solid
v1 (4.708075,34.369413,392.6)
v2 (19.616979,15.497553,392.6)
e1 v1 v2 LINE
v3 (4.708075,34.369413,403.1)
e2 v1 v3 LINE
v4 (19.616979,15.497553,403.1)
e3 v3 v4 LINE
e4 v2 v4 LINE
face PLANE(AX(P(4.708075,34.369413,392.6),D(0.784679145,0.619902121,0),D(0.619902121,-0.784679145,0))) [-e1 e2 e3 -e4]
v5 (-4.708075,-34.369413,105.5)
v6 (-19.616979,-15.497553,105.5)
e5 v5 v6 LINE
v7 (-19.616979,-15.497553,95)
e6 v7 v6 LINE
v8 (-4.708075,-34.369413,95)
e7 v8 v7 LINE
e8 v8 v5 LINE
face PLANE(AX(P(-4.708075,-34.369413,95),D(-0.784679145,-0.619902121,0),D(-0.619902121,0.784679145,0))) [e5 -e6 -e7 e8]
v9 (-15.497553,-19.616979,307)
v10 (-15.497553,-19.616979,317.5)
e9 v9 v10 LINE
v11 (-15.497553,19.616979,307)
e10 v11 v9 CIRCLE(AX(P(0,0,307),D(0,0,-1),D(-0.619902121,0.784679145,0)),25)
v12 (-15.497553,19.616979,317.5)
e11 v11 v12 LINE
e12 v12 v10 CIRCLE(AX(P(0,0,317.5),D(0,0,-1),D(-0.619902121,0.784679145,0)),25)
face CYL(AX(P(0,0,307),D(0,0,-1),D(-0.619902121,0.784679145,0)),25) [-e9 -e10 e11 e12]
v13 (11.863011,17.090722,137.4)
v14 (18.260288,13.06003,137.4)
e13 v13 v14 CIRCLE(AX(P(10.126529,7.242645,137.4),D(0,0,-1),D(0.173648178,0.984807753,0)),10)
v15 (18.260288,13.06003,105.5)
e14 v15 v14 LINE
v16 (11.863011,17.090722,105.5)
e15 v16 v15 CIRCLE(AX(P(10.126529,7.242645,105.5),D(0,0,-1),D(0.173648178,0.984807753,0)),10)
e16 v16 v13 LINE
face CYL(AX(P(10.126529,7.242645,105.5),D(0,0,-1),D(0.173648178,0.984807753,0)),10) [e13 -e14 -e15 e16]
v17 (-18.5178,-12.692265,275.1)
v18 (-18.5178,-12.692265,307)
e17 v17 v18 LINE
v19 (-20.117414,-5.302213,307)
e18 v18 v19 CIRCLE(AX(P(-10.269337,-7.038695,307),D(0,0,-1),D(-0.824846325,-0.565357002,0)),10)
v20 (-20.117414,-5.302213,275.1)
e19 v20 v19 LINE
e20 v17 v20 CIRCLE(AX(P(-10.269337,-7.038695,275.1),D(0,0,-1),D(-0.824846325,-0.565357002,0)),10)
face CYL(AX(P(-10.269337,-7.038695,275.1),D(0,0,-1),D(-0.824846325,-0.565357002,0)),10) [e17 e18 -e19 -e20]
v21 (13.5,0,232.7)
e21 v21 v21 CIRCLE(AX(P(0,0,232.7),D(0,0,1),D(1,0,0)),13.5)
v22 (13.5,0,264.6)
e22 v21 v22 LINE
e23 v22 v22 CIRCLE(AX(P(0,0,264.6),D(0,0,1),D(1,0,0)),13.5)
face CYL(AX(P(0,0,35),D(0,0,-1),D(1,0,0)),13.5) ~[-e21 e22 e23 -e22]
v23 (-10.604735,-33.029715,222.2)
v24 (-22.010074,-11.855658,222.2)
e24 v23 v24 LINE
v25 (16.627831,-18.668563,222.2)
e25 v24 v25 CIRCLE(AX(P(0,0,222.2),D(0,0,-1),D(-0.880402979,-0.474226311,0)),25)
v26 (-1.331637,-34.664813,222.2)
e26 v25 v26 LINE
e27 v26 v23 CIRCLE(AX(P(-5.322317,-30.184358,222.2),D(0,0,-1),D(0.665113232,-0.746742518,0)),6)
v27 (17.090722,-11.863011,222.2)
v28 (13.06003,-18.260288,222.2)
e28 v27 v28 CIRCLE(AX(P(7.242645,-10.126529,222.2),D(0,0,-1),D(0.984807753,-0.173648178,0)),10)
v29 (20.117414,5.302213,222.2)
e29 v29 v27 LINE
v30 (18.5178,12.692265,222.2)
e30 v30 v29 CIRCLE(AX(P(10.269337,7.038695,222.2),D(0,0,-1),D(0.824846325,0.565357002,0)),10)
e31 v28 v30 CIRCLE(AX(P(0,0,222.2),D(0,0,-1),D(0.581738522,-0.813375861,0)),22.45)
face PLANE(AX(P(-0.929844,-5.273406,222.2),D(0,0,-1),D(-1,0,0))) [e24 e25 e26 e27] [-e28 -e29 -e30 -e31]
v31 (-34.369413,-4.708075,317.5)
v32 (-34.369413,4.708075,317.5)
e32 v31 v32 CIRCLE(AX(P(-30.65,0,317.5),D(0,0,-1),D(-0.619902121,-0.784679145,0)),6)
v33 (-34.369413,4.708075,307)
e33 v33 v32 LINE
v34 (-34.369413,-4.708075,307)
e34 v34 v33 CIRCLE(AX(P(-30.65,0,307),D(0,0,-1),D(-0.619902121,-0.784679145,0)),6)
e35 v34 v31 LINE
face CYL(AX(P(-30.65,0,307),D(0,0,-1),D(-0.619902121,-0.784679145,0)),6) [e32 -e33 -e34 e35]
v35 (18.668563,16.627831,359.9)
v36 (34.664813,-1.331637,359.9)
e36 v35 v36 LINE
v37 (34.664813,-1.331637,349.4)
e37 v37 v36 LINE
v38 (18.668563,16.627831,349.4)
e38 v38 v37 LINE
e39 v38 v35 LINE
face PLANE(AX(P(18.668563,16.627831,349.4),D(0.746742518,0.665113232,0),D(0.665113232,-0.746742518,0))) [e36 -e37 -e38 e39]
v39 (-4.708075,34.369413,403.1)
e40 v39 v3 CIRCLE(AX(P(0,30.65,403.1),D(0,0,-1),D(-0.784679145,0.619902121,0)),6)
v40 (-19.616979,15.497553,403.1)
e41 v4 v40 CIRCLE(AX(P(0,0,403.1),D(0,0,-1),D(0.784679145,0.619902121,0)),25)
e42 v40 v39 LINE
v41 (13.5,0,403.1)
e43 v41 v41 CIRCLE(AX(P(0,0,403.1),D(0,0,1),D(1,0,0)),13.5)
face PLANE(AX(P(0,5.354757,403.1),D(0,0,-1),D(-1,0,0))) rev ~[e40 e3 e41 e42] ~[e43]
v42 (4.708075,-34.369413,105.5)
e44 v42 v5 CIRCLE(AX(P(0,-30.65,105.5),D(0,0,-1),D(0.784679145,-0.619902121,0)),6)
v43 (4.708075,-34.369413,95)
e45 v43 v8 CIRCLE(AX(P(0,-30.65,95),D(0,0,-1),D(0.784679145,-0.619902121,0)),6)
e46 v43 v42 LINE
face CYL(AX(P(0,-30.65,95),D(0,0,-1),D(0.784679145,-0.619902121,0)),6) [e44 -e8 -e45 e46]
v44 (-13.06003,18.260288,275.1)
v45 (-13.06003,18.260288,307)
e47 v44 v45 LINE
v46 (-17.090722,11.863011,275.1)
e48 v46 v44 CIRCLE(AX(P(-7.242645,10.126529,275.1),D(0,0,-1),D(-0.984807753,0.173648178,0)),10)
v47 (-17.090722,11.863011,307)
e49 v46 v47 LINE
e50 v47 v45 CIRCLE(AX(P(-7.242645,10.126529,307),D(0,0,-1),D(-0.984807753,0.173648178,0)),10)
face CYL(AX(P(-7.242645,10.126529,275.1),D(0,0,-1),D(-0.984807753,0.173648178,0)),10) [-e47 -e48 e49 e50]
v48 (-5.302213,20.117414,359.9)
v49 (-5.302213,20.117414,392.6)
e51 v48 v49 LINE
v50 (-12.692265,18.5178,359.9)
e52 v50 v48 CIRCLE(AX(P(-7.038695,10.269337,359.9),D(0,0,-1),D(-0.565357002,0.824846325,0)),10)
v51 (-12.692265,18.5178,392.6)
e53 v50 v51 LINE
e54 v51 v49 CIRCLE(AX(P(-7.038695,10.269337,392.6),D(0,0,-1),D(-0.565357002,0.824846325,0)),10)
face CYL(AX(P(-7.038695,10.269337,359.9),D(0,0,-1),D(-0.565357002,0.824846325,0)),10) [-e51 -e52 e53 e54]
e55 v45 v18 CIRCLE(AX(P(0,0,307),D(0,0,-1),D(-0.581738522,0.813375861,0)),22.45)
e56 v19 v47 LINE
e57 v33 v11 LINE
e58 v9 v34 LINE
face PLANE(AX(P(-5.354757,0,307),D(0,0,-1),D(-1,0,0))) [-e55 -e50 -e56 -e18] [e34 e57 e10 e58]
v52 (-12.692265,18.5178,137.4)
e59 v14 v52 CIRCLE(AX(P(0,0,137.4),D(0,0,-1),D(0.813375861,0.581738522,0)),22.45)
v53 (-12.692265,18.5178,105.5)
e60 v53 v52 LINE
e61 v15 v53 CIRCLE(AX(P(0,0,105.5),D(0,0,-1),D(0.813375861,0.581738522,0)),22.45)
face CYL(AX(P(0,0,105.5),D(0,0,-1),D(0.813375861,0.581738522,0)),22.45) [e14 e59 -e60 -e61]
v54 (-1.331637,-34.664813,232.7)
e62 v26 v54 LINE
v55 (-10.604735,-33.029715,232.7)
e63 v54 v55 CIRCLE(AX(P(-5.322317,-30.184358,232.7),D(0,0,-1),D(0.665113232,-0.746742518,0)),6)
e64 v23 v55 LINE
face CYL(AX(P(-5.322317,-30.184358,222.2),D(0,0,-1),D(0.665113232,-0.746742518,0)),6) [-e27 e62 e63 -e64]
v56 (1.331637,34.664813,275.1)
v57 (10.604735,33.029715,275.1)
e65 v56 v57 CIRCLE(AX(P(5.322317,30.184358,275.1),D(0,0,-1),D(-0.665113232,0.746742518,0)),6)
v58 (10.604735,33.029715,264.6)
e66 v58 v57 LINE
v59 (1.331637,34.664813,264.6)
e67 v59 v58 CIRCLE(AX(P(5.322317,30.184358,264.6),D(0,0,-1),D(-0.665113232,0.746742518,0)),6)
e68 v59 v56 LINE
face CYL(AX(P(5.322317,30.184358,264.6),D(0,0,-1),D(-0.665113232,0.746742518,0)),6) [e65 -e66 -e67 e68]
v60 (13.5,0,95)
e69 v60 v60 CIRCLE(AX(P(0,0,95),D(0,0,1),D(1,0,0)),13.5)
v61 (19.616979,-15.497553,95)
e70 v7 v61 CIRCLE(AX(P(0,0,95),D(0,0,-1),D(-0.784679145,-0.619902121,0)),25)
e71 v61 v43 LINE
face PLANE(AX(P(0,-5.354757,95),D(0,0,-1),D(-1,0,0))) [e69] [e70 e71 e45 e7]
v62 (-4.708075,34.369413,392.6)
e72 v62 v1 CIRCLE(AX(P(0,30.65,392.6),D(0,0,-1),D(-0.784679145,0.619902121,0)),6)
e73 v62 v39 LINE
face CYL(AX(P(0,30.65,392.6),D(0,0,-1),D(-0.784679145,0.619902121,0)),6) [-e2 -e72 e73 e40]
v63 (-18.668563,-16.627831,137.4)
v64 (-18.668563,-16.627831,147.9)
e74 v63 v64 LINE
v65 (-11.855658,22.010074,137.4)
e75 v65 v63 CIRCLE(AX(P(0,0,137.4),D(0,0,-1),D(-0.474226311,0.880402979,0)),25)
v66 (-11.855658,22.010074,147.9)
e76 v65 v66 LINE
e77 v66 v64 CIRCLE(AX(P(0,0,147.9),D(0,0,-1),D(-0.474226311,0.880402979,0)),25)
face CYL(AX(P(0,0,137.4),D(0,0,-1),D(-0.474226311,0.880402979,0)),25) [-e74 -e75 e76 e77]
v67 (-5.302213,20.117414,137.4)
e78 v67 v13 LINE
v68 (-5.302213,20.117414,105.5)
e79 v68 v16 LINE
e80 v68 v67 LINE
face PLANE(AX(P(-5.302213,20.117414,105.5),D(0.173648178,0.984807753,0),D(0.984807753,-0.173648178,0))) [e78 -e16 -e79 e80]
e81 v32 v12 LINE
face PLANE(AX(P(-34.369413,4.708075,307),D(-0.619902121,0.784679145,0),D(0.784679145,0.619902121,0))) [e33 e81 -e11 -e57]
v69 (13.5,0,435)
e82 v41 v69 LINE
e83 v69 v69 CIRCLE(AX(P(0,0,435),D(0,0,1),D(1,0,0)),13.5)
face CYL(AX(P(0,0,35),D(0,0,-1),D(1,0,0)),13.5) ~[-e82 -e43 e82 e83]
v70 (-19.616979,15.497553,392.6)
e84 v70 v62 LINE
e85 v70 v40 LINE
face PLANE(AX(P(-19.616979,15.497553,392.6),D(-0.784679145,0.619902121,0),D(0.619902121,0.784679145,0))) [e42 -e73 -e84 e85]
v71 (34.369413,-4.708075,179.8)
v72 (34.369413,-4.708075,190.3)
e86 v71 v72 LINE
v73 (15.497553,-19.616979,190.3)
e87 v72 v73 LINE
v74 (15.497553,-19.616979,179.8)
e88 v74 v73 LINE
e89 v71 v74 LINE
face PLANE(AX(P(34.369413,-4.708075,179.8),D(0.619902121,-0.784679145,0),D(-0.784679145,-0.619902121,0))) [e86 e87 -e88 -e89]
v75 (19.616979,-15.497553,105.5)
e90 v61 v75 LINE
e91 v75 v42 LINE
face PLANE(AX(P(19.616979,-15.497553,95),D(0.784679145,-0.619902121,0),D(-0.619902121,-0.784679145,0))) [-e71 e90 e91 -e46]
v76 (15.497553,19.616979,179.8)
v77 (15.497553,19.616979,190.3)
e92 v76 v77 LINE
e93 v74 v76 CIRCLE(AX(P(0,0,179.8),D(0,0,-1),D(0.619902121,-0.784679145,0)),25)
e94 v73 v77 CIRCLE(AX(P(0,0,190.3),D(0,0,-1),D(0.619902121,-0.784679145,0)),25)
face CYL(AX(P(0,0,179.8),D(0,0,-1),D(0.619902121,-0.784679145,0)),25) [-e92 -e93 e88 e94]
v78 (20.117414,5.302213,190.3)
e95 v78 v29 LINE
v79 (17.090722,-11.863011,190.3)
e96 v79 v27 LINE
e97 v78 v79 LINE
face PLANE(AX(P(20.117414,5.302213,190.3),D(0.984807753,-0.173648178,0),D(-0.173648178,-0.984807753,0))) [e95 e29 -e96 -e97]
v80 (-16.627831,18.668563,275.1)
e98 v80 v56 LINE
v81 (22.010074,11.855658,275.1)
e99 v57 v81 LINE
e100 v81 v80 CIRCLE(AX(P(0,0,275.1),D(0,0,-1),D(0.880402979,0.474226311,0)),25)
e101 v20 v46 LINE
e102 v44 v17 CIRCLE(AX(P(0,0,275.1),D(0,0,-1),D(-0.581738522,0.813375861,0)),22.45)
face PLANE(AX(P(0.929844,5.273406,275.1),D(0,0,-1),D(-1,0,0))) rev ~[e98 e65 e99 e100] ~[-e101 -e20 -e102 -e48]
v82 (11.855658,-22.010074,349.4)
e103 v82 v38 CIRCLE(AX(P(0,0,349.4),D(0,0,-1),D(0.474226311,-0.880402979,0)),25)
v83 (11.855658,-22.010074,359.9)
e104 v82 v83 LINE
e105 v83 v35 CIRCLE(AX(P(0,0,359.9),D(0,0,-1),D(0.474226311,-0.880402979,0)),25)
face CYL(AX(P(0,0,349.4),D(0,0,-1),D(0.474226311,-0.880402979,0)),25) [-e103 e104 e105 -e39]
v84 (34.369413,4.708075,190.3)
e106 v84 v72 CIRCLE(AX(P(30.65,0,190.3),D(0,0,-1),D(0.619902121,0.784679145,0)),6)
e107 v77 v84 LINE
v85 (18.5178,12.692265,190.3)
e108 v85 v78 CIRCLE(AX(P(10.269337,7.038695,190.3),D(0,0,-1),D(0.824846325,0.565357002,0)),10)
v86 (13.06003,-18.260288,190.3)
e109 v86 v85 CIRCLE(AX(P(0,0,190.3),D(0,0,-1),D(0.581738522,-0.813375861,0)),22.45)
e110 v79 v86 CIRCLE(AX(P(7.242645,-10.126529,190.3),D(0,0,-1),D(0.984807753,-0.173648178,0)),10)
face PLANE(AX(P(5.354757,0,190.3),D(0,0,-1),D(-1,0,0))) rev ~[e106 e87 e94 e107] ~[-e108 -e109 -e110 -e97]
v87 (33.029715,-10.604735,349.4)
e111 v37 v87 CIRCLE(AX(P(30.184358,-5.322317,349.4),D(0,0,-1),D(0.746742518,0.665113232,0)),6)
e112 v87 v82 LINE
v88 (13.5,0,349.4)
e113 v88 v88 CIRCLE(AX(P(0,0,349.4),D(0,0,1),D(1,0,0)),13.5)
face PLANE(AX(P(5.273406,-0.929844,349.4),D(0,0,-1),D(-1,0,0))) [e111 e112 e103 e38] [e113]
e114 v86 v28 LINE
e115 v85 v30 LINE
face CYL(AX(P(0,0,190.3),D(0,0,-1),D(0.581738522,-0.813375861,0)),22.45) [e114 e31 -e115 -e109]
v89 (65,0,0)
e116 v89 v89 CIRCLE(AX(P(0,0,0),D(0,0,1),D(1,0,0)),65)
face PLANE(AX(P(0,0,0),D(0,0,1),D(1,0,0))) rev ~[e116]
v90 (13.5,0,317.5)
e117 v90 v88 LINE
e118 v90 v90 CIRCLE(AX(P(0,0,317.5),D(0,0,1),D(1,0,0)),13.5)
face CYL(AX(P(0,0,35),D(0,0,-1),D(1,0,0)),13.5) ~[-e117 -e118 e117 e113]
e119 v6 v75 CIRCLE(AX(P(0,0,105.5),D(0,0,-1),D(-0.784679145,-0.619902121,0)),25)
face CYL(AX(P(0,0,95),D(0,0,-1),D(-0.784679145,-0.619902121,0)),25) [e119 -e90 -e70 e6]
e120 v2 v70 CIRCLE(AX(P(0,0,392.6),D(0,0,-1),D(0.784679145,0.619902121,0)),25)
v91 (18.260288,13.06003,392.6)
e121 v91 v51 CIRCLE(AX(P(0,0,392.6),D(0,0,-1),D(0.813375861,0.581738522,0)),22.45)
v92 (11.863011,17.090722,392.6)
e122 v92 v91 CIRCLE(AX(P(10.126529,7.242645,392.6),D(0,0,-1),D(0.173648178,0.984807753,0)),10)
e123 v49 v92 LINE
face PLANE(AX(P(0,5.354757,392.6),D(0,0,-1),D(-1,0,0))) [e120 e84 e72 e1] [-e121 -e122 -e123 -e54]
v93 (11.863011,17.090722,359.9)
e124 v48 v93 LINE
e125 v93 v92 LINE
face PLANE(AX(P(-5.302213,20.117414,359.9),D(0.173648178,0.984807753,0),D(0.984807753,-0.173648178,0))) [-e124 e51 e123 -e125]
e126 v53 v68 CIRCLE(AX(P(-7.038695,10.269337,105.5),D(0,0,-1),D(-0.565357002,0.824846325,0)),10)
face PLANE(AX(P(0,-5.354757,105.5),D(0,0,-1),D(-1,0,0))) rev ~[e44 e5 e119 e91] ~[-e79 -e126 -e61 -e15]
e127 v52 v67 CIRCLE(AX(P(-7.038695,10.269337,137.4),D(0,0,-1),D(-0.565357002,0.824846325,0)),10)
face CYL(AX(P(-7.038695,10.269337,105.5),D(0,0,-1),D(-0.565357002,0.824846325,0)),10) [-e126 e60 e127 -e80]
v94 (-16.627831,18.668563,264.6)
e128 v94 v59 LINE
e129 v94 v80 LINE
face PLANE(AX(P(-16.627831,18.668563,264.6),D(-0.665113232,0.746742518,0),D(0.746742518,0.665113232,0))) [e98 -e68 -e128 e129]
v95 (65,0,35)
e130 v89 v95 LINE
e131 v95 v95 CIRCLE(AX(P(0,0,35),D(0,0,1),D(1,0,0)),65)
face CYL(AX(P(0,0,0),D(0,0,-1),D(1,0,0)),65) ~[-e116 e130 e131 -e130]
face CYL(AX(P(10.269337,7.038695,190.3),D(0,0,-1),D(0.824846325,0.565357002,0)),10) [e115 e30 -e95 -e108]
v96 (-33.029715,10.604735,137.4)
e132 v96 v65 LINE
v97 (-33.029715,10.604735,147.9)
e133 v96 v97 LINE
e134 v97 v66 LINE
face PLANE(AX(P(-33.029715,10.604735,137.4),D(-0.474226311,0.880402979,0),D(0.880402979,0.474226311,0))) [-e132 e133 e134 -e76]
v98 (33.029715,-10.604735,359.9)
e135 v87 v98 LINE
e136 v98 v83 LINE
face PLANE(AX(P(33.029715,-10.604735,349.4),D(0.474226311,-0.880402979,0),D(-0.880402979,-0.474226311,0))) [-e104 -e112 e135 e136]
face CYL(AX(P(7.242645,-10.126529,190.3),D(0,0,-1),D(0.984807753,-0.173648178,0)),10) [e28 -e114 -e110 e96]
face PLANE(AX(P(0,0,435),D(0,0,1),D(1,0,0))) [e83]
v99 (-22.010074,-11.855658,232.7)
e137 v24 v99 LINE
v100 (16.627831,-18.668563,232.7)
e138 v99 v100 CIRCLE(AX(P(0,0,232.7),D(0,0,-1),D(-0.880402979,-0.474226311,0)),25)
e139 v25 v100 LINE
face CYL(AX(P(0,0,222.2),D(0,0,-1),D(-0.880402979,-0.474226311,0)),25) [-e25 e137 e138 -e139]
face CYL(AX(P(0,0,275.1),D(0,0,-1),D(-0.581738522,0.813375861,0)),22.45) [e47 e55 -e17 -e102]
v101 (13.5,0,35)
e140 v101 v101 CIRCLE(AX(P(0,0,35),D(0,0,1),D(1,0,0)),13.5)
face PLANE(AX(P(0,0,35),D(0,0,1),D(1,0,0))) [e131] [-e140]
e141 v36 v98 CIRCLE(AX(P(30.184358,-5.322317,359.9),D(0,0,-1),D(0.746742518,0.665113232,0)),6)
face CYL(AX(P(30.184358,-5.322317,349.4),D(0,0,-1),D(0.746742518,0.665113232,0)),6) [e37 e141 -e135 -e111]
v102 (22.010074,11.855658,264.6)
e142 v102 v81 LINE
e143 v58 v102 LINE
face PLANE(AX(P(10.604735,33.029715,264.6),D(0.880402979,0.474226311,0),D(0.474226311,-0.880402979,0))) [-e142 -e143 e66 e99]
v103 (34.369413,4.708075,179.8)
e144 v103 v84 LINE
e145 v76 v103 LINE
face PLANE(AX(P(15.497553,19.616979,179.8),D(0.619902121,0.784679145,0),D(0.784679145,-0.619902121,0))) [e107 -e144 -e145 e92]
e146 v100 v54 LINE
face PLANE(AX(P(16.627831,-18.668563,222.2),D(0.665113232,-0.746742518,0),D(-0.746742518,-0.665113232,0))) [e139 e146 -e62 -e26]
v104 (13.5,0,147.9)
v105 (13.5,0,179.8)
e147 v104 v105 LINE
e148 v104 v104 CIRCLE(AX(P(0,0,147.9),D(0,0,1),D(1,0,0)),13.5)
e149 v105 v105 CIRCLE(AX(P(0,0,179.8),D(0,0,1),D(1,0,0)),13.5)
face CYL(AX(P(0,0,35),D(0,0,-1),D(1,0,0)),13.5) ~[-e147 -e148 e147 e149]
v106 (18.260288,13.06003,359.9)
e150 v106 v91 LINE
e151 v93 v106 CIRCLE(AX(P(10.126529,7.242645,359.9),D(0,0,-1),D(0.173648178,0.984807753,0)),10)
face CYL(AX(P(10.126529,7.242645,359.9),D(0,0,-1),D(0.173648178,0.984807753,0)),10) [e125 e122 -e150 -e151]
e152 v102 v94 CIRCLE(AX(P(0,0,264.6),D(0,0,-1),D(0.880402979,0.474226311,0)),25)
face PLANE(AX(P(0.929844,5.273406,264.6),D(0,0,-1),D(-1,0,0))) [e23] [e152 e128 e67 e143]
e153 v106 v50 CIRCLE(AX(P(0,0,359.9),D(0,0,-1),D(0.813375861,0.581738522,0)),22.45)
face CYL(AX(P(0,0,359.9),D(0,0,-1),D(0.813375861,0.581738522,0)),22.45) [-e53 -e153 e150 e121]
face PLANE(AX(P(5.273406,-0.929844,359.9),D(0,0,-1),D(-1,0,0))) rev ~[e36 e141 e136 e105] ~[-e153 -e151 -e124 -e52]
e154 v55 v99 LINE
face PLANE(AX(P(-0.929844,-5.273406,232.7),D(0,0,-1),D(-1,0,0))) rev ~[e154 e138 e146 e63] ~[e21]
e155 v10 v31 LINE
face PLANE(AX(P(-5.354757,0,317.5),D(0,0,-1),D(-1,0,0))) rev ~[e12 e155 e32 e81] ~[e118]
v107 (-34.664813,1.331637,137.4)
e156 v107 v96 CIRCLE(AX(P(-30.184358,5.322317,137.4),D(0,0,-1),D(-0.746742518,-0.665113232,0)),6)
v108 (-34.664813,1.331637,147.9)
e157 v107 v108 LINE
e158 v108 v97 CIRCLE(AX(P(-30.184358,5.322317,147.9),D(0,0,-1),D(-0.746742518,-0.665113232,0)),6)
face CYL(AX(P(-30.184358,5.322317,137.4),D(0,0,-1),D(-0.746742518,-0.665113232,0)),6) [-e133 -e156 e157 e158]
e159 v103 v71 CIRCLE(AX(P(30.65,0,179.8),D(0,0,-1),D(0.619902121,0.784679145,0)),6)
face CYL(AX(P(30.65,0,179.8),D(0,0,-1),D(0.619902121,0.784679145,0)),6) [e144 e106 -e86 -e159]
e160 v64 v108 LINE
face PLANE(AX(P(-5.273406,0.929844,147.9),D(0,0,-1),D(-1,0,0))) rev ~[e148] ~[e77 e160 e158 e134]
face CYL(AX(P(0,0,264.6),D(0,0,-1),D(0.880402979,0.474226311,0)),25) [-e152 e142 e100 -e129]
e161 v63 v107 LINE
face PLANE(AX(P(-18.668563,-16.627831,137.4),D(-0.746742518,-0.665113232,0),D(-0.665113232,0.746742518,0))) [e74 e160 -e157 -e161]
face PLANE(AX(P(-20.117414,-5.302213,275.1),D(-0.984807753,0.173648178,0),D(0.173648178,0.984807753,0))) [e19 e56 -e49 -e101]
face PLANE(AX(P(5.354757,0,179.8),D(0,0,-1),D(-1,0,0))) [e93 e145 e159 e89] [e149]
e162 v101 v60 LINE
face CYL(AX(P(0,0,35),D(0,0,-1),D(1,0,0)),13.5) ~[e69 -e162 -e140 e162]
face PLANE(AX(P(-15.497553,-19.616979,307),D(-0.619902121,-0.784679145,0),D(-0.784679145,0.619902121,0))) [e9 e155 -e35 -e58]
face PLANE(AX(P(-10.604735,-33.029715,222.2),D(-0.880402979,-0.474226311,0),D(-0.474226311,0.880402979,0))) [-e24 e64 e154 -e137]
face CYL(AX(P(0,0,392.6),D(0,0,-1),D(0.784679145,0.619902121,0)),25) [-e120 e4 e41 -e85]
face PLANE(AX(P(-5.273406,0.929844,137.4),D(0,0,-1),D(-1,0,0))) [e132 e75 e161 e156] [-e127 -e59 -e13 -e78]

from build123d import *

# Parameters (mm, degrees)
CROQUIS1_R               = 65
SALIENTE_EXTRUIR2_DEPTH  = 35
CROQUIS2_R               = 13.5
SALIENTE_EXTRUIR3_DEPTH  = 400
CROQUIS3_R               = 13.5
SALIENTE_EXTRUIR4_DEPTH  = 10.5
CROQUIS4_R               = 13.5
SALIENTE_EXTRUIR6_DEPTH  = 10.5
CROQUIS5_R               = 13.5
SALIENTE_EXTRUIR7_DEPTH  = 10.5
CROQUIS6_R               = 13.5
SALIENTE_EXTRUIR8_DEPTH  = 10.5
CROQUIS7_R               = 13.5
SALIENTE_EXTRUIR9_DEPTH  = 10.5
CROQUIS8_R               = 13.5
SALIENTE_EXTRUIR10_DEPTH = 10.5
CROQUIS9_R               = 13.5
SALIENTE_EXTRUIR11_DEPTH = 10.5
CROQUIS10_R              = 13.5
SALIENTE_EXTRUIR12_DEPTH = 10.5
SALIENTE_EXTRUIR13_DEPTH = 32.7
SALIENTE_EXTRUIR14_DEPTH = 31.9
SALIENTE_EXTRUIR15_DEPTH = 31.9
SALIENTE_EXTRUIR16_DEPTH = 31.9


with BuildPart() as part:
    # Croquis1 → Saliente-Extruir2 (new body)
    with BuildSketch(Plane.XY):
        Circle(CROQUIS1_R)
    extrude(amount=SALIENTE_EXTRUIR2_DEPTH)

    # Croquis2 → Saliente-Extruir3 (add)
    with BuildSketch(Plane.XY.offset(35)):
        Circle(CROQUIS2_R)
    extrude(amount=SALIENTE_EXTRUIR3_DEPTH)

    # Croquis3 → Saliente-Extruir4 (add)
    with BuildSketch(Plane.XY.offset(392.6)):
        with BuildLine():
            Line((-19.616978627, 15.497553018), (-4.708074871, 34.369412724))
            ThreePointArc((-4.708074871, 34.369412724), (0, 36.65), (4.708074871, 34.369412724))
            Line((4.708074871, 34.369412724), (19.616978627, 15.497553018))
            ThreePointArc((19.616978627, 15.497553018), (0, -25), (-19.616978627, 15.497553018))
        make_face()
        Circle(CROQUIS3_R, mode=Mode.SUBTRACT)
    extrude(amount=SALIENTE_EXTRUIR4_DEPTH)

    # Croquis4 → Saliente-Extruir6 (add)
    with BuildSketch(Plane.XY.offset(349.4)):
        with BuildLine():
            Line((18.668562955, 16.627830803), (34.664812739, -1.331637253))
            ThreePointArc((34.664812739, -1.331637253), (36.093204148, -6.364205711), (33.029715496, -10.604734521))
            Line((33.029715496, -10.604734521), (11.855657775, -22.010074483))
            ThreePointArc((11.855657775, -22.010074483), (-24.620193825, 4.341204442), (18.668562955, 16.627830803))
        make_face()
        Circle(CROQUIS4_R, mode=Mode.SUBTRACT)
    extrude(amount=SALIENTE_EXTRUIR6_DEPTH)

    # Croquis5 → Saliente-Extruir7 (add)
    with BuildSketch(Plane.XY.offset(307)):
        with BuildLine():
            Line((-15.497553018, -19.616978627), (-34.369412724, -4.708074871))
            ThreePointArc((-34.369412724, -4.708074871), (-36.65, 0), (-34.369412724, 4.708074871))
            Line((-34.369412724, 4.708074871), (-15.497553018, 19.616978627))
            ThreePointArc((-15.497553018, 19.616978627), (25, 0), (-15.497553018, -19.616978627))
        make_face()
        Circle(CROQUIS5_R, mode=Mode.SUBTRACT)
    extrude(amount=SALIENTE_EXTRUIR7_DEPTH)

    # Croquis6 → Saliente-Extruir8 (add)
    with BuildSketch(Plane.XY.offset(264.6)):
        with BuildLine():
            Line((-16.627830803, 18.668562955), (1.331637253, 34.664812739))
            ThreePointArc((1.331637253, 34.664812739), (6.364205711, 36.093204148), (10.604734521, 33.029715496))
            Line((10.604734521, 33.029715496), (22.010074483, 11.855657775))
            ThreePointArc((22.010074483, 11.855657775), (-4.341204442, -24.620193825), (-16.627830803, 18.668562955))
        make_face()
        Circle(CROQUIS6_R, mode=Mode.SUBTRACT)
    extrude(amount=SALIENTE_EXTRUIR8_DEPTH)

    # Croquis7 → Saliente-Extruir9 (add)
    with BuildSketch(Plane.XY.offset(222.2)):
        with BuildLine():
            Line((16.627830803, -18.668562955), (-1.331637253, -34.664812739))
            ThreePointArc((-1.331637253, -34.664812739), (-6.364205711, -36.093204148), (-10.604734521, -33.029715496))
            Line((-10.604734521, -33.029715496), (-22.010074483, -11.855657775))
            ThreePointArc((-22.010074483, -11.855657775), (4.341204442, 24.620193825), (16.627830803, -18.668562955))
        make_face()
        Circle(CROQUIS7_R, mode=Mode.SUBTRACT)
    extrude(amount=SALIENTE_EXTRUIR9_DEPTH)

    # Croquis8 → Saliente-Extruir10 (add)
    with BuildSketch(Plane.XY.offset(179.8)):
        with BuildLine():
            Line((15.497553018, 19.616978627), (34.369412724, 4.708074871))
            ThreePointArc((34.369412724, 4.708074871), (36.65, 0), (34.369412724, -4.708074871))
            Line((34.369412724, -4.708074871), (15.497553018, -19.616978627))
            ThreePointArc((15.497553018, -19.616978627), (-25, 0), (15.497553018, 19.616978627))
        make_face()
        Circle(CROQUIS8_R, mode=Mode.SUBTRACT)
    extrude(amount=SALIENTE_EXTRUIR10_DEPTH)

    # Croquis9 → Saliente-Extruir11 (add)
    with BuildSketch(Plane.XY.offset(137.4)):
        with BuildLine():
            Line((-18.668562955, -16.627830803), (-34.664812739, 1.331637253))
            ThreePointArc((-34.664812739, 1.331637253), (-36.093204148, 6.364205711), (-33.029715496, 10.604734521))
            Line((-33.029715496, 10.604734521), (-11.855657775, 22.010074483))
            ThreePointArc((-11.855657775, 22.010074483), (24.620193825, -4.341204442), (-18.668562955, -16.627830803))
        make_face()
        Circle(CROQUIS9_R, mode=Mode.SUBTRACT)
    extrude(amount=SALIENTE_EXTRUIR11_DEPTH)

    # Croquis10 → Saliente-Extruir12 (add)
    with BuildSketch(Plane.XY.offset(95)):
        with BuildLine():
            Line((19.616978627, -15.497553018), (4.708074871, -34.369412724))
            ThreePointArc((4.708074871, -34.369412724), (0, -36.65), (-4.708074871, -34.369412724))
            Line((-4.708074871, -34.369412724), (-19.616978627, -15.497553018))
            ThreePointArc((-19.616978627, -15.497553018), (0, 25), (19.616978627, -15.497553018))
        make_face()
        Circle(CROQUIS10_R, mode=Mode.SUBTRACT)
    extrude(amount=SALIENTE_EXTRUIR12_DEPTH)

    # Croquis11 → Saliente-Extruir13 (add)
    with BuildSketch(Plane.XY.offset(359.9)):
        with BuildLine():
            Line((-5.302212899, 20.117414279), (11.86301125, 17.090722131))
            ThreePointArc((11.86301125, 17.090722131), (15.45729222, 15.703316474), (18.260288087, 13.060029823))
            ThreePointArc((18.260288087, 13.060029823), (-3.898401589, -22.108934055), (-12.692264697, 18.517800001))
            ThreePointArc((-12.692264697, 18.517800001), (-9.154252885, 20.042995913), (-5.302212899, 20.117414279))
        make_face()
    extrude(amount=SALIENTE_EXTRUIR13_DEPTH)

    # Croquis12 → Saliente-Extruir14 (add)
    with BuildSketch(Plane.XY.offset(275.1)):
        with BuildLine():
            Line((-20.117414279, -5.302212899), (-17.090722131, 11.86301125))
            ThreePointArc((-17.090722131, 11.86301125), (-15.703316474, 15.45729222), (-13.060029823, 18.260288087))
            ThreePointArc((-13.060029823, 18.260288087), (22.108934055, -3.898401589), (-18.517800001, -12.692264697))
            ThreePointArc((-18.517800001, -12.692264697), (-20.042995913, -9.154252885), (-20.117414279, -5.302212899))
        make_face()
    extrude(amount=SALIENTE_EXTRUIR14_DEPTH)

    # Croquis14 → Saliente-Extruir15 (add)
    with BuildSketch(Plane.XY.offset(190.3)):
        with BuildLine():
            Line((20.117414279, 5.302212899), (17.090722131, -11.86301125))
            ThreePointArc((17.090722131, -11.86301125), (15.703316474, -15.45729222), (13.060029823, -18.260288087))
            ThreePointArc((13.060029823, -18.260288087), (-22.108934055, 3.898401589), (18.517800001, 12.692264697))
            ThreePointArc((18.517800001, 12.692264697), (20.042995913, 9.154252885), (20.117414279, 5.302212899))
        make_face()
    extrude(amount=SALIENTE_EXTRUIR15_DEPTH)

    # Croquis15 → Saliente-Extruir16 (add)
    with BuildSketch(Plane.XY.offset(105.5)):
        with BuildLine():
            Line((-5.302212899, 20.117414279), (11.86301125, 17.090722131))
            ThreePointArc((11.86301125, 17.090722131), (15.45729222, 15.703316474), (18.260288087, 13.060029823))
            ThreePointArc((18.260288087, 13.060029823), (-3.898401589, -22.108934055), (-12.692264697, 18.517800001))
            ThreePointArc((-12.692264697, 18.517800001), (-9.154252885, 20.042995913), (-5.302212899, 20.117414279))
        make_face()
    extrude(amount=SALIENTE_EXTRUIR16_DEPTH)


solid = part.part
